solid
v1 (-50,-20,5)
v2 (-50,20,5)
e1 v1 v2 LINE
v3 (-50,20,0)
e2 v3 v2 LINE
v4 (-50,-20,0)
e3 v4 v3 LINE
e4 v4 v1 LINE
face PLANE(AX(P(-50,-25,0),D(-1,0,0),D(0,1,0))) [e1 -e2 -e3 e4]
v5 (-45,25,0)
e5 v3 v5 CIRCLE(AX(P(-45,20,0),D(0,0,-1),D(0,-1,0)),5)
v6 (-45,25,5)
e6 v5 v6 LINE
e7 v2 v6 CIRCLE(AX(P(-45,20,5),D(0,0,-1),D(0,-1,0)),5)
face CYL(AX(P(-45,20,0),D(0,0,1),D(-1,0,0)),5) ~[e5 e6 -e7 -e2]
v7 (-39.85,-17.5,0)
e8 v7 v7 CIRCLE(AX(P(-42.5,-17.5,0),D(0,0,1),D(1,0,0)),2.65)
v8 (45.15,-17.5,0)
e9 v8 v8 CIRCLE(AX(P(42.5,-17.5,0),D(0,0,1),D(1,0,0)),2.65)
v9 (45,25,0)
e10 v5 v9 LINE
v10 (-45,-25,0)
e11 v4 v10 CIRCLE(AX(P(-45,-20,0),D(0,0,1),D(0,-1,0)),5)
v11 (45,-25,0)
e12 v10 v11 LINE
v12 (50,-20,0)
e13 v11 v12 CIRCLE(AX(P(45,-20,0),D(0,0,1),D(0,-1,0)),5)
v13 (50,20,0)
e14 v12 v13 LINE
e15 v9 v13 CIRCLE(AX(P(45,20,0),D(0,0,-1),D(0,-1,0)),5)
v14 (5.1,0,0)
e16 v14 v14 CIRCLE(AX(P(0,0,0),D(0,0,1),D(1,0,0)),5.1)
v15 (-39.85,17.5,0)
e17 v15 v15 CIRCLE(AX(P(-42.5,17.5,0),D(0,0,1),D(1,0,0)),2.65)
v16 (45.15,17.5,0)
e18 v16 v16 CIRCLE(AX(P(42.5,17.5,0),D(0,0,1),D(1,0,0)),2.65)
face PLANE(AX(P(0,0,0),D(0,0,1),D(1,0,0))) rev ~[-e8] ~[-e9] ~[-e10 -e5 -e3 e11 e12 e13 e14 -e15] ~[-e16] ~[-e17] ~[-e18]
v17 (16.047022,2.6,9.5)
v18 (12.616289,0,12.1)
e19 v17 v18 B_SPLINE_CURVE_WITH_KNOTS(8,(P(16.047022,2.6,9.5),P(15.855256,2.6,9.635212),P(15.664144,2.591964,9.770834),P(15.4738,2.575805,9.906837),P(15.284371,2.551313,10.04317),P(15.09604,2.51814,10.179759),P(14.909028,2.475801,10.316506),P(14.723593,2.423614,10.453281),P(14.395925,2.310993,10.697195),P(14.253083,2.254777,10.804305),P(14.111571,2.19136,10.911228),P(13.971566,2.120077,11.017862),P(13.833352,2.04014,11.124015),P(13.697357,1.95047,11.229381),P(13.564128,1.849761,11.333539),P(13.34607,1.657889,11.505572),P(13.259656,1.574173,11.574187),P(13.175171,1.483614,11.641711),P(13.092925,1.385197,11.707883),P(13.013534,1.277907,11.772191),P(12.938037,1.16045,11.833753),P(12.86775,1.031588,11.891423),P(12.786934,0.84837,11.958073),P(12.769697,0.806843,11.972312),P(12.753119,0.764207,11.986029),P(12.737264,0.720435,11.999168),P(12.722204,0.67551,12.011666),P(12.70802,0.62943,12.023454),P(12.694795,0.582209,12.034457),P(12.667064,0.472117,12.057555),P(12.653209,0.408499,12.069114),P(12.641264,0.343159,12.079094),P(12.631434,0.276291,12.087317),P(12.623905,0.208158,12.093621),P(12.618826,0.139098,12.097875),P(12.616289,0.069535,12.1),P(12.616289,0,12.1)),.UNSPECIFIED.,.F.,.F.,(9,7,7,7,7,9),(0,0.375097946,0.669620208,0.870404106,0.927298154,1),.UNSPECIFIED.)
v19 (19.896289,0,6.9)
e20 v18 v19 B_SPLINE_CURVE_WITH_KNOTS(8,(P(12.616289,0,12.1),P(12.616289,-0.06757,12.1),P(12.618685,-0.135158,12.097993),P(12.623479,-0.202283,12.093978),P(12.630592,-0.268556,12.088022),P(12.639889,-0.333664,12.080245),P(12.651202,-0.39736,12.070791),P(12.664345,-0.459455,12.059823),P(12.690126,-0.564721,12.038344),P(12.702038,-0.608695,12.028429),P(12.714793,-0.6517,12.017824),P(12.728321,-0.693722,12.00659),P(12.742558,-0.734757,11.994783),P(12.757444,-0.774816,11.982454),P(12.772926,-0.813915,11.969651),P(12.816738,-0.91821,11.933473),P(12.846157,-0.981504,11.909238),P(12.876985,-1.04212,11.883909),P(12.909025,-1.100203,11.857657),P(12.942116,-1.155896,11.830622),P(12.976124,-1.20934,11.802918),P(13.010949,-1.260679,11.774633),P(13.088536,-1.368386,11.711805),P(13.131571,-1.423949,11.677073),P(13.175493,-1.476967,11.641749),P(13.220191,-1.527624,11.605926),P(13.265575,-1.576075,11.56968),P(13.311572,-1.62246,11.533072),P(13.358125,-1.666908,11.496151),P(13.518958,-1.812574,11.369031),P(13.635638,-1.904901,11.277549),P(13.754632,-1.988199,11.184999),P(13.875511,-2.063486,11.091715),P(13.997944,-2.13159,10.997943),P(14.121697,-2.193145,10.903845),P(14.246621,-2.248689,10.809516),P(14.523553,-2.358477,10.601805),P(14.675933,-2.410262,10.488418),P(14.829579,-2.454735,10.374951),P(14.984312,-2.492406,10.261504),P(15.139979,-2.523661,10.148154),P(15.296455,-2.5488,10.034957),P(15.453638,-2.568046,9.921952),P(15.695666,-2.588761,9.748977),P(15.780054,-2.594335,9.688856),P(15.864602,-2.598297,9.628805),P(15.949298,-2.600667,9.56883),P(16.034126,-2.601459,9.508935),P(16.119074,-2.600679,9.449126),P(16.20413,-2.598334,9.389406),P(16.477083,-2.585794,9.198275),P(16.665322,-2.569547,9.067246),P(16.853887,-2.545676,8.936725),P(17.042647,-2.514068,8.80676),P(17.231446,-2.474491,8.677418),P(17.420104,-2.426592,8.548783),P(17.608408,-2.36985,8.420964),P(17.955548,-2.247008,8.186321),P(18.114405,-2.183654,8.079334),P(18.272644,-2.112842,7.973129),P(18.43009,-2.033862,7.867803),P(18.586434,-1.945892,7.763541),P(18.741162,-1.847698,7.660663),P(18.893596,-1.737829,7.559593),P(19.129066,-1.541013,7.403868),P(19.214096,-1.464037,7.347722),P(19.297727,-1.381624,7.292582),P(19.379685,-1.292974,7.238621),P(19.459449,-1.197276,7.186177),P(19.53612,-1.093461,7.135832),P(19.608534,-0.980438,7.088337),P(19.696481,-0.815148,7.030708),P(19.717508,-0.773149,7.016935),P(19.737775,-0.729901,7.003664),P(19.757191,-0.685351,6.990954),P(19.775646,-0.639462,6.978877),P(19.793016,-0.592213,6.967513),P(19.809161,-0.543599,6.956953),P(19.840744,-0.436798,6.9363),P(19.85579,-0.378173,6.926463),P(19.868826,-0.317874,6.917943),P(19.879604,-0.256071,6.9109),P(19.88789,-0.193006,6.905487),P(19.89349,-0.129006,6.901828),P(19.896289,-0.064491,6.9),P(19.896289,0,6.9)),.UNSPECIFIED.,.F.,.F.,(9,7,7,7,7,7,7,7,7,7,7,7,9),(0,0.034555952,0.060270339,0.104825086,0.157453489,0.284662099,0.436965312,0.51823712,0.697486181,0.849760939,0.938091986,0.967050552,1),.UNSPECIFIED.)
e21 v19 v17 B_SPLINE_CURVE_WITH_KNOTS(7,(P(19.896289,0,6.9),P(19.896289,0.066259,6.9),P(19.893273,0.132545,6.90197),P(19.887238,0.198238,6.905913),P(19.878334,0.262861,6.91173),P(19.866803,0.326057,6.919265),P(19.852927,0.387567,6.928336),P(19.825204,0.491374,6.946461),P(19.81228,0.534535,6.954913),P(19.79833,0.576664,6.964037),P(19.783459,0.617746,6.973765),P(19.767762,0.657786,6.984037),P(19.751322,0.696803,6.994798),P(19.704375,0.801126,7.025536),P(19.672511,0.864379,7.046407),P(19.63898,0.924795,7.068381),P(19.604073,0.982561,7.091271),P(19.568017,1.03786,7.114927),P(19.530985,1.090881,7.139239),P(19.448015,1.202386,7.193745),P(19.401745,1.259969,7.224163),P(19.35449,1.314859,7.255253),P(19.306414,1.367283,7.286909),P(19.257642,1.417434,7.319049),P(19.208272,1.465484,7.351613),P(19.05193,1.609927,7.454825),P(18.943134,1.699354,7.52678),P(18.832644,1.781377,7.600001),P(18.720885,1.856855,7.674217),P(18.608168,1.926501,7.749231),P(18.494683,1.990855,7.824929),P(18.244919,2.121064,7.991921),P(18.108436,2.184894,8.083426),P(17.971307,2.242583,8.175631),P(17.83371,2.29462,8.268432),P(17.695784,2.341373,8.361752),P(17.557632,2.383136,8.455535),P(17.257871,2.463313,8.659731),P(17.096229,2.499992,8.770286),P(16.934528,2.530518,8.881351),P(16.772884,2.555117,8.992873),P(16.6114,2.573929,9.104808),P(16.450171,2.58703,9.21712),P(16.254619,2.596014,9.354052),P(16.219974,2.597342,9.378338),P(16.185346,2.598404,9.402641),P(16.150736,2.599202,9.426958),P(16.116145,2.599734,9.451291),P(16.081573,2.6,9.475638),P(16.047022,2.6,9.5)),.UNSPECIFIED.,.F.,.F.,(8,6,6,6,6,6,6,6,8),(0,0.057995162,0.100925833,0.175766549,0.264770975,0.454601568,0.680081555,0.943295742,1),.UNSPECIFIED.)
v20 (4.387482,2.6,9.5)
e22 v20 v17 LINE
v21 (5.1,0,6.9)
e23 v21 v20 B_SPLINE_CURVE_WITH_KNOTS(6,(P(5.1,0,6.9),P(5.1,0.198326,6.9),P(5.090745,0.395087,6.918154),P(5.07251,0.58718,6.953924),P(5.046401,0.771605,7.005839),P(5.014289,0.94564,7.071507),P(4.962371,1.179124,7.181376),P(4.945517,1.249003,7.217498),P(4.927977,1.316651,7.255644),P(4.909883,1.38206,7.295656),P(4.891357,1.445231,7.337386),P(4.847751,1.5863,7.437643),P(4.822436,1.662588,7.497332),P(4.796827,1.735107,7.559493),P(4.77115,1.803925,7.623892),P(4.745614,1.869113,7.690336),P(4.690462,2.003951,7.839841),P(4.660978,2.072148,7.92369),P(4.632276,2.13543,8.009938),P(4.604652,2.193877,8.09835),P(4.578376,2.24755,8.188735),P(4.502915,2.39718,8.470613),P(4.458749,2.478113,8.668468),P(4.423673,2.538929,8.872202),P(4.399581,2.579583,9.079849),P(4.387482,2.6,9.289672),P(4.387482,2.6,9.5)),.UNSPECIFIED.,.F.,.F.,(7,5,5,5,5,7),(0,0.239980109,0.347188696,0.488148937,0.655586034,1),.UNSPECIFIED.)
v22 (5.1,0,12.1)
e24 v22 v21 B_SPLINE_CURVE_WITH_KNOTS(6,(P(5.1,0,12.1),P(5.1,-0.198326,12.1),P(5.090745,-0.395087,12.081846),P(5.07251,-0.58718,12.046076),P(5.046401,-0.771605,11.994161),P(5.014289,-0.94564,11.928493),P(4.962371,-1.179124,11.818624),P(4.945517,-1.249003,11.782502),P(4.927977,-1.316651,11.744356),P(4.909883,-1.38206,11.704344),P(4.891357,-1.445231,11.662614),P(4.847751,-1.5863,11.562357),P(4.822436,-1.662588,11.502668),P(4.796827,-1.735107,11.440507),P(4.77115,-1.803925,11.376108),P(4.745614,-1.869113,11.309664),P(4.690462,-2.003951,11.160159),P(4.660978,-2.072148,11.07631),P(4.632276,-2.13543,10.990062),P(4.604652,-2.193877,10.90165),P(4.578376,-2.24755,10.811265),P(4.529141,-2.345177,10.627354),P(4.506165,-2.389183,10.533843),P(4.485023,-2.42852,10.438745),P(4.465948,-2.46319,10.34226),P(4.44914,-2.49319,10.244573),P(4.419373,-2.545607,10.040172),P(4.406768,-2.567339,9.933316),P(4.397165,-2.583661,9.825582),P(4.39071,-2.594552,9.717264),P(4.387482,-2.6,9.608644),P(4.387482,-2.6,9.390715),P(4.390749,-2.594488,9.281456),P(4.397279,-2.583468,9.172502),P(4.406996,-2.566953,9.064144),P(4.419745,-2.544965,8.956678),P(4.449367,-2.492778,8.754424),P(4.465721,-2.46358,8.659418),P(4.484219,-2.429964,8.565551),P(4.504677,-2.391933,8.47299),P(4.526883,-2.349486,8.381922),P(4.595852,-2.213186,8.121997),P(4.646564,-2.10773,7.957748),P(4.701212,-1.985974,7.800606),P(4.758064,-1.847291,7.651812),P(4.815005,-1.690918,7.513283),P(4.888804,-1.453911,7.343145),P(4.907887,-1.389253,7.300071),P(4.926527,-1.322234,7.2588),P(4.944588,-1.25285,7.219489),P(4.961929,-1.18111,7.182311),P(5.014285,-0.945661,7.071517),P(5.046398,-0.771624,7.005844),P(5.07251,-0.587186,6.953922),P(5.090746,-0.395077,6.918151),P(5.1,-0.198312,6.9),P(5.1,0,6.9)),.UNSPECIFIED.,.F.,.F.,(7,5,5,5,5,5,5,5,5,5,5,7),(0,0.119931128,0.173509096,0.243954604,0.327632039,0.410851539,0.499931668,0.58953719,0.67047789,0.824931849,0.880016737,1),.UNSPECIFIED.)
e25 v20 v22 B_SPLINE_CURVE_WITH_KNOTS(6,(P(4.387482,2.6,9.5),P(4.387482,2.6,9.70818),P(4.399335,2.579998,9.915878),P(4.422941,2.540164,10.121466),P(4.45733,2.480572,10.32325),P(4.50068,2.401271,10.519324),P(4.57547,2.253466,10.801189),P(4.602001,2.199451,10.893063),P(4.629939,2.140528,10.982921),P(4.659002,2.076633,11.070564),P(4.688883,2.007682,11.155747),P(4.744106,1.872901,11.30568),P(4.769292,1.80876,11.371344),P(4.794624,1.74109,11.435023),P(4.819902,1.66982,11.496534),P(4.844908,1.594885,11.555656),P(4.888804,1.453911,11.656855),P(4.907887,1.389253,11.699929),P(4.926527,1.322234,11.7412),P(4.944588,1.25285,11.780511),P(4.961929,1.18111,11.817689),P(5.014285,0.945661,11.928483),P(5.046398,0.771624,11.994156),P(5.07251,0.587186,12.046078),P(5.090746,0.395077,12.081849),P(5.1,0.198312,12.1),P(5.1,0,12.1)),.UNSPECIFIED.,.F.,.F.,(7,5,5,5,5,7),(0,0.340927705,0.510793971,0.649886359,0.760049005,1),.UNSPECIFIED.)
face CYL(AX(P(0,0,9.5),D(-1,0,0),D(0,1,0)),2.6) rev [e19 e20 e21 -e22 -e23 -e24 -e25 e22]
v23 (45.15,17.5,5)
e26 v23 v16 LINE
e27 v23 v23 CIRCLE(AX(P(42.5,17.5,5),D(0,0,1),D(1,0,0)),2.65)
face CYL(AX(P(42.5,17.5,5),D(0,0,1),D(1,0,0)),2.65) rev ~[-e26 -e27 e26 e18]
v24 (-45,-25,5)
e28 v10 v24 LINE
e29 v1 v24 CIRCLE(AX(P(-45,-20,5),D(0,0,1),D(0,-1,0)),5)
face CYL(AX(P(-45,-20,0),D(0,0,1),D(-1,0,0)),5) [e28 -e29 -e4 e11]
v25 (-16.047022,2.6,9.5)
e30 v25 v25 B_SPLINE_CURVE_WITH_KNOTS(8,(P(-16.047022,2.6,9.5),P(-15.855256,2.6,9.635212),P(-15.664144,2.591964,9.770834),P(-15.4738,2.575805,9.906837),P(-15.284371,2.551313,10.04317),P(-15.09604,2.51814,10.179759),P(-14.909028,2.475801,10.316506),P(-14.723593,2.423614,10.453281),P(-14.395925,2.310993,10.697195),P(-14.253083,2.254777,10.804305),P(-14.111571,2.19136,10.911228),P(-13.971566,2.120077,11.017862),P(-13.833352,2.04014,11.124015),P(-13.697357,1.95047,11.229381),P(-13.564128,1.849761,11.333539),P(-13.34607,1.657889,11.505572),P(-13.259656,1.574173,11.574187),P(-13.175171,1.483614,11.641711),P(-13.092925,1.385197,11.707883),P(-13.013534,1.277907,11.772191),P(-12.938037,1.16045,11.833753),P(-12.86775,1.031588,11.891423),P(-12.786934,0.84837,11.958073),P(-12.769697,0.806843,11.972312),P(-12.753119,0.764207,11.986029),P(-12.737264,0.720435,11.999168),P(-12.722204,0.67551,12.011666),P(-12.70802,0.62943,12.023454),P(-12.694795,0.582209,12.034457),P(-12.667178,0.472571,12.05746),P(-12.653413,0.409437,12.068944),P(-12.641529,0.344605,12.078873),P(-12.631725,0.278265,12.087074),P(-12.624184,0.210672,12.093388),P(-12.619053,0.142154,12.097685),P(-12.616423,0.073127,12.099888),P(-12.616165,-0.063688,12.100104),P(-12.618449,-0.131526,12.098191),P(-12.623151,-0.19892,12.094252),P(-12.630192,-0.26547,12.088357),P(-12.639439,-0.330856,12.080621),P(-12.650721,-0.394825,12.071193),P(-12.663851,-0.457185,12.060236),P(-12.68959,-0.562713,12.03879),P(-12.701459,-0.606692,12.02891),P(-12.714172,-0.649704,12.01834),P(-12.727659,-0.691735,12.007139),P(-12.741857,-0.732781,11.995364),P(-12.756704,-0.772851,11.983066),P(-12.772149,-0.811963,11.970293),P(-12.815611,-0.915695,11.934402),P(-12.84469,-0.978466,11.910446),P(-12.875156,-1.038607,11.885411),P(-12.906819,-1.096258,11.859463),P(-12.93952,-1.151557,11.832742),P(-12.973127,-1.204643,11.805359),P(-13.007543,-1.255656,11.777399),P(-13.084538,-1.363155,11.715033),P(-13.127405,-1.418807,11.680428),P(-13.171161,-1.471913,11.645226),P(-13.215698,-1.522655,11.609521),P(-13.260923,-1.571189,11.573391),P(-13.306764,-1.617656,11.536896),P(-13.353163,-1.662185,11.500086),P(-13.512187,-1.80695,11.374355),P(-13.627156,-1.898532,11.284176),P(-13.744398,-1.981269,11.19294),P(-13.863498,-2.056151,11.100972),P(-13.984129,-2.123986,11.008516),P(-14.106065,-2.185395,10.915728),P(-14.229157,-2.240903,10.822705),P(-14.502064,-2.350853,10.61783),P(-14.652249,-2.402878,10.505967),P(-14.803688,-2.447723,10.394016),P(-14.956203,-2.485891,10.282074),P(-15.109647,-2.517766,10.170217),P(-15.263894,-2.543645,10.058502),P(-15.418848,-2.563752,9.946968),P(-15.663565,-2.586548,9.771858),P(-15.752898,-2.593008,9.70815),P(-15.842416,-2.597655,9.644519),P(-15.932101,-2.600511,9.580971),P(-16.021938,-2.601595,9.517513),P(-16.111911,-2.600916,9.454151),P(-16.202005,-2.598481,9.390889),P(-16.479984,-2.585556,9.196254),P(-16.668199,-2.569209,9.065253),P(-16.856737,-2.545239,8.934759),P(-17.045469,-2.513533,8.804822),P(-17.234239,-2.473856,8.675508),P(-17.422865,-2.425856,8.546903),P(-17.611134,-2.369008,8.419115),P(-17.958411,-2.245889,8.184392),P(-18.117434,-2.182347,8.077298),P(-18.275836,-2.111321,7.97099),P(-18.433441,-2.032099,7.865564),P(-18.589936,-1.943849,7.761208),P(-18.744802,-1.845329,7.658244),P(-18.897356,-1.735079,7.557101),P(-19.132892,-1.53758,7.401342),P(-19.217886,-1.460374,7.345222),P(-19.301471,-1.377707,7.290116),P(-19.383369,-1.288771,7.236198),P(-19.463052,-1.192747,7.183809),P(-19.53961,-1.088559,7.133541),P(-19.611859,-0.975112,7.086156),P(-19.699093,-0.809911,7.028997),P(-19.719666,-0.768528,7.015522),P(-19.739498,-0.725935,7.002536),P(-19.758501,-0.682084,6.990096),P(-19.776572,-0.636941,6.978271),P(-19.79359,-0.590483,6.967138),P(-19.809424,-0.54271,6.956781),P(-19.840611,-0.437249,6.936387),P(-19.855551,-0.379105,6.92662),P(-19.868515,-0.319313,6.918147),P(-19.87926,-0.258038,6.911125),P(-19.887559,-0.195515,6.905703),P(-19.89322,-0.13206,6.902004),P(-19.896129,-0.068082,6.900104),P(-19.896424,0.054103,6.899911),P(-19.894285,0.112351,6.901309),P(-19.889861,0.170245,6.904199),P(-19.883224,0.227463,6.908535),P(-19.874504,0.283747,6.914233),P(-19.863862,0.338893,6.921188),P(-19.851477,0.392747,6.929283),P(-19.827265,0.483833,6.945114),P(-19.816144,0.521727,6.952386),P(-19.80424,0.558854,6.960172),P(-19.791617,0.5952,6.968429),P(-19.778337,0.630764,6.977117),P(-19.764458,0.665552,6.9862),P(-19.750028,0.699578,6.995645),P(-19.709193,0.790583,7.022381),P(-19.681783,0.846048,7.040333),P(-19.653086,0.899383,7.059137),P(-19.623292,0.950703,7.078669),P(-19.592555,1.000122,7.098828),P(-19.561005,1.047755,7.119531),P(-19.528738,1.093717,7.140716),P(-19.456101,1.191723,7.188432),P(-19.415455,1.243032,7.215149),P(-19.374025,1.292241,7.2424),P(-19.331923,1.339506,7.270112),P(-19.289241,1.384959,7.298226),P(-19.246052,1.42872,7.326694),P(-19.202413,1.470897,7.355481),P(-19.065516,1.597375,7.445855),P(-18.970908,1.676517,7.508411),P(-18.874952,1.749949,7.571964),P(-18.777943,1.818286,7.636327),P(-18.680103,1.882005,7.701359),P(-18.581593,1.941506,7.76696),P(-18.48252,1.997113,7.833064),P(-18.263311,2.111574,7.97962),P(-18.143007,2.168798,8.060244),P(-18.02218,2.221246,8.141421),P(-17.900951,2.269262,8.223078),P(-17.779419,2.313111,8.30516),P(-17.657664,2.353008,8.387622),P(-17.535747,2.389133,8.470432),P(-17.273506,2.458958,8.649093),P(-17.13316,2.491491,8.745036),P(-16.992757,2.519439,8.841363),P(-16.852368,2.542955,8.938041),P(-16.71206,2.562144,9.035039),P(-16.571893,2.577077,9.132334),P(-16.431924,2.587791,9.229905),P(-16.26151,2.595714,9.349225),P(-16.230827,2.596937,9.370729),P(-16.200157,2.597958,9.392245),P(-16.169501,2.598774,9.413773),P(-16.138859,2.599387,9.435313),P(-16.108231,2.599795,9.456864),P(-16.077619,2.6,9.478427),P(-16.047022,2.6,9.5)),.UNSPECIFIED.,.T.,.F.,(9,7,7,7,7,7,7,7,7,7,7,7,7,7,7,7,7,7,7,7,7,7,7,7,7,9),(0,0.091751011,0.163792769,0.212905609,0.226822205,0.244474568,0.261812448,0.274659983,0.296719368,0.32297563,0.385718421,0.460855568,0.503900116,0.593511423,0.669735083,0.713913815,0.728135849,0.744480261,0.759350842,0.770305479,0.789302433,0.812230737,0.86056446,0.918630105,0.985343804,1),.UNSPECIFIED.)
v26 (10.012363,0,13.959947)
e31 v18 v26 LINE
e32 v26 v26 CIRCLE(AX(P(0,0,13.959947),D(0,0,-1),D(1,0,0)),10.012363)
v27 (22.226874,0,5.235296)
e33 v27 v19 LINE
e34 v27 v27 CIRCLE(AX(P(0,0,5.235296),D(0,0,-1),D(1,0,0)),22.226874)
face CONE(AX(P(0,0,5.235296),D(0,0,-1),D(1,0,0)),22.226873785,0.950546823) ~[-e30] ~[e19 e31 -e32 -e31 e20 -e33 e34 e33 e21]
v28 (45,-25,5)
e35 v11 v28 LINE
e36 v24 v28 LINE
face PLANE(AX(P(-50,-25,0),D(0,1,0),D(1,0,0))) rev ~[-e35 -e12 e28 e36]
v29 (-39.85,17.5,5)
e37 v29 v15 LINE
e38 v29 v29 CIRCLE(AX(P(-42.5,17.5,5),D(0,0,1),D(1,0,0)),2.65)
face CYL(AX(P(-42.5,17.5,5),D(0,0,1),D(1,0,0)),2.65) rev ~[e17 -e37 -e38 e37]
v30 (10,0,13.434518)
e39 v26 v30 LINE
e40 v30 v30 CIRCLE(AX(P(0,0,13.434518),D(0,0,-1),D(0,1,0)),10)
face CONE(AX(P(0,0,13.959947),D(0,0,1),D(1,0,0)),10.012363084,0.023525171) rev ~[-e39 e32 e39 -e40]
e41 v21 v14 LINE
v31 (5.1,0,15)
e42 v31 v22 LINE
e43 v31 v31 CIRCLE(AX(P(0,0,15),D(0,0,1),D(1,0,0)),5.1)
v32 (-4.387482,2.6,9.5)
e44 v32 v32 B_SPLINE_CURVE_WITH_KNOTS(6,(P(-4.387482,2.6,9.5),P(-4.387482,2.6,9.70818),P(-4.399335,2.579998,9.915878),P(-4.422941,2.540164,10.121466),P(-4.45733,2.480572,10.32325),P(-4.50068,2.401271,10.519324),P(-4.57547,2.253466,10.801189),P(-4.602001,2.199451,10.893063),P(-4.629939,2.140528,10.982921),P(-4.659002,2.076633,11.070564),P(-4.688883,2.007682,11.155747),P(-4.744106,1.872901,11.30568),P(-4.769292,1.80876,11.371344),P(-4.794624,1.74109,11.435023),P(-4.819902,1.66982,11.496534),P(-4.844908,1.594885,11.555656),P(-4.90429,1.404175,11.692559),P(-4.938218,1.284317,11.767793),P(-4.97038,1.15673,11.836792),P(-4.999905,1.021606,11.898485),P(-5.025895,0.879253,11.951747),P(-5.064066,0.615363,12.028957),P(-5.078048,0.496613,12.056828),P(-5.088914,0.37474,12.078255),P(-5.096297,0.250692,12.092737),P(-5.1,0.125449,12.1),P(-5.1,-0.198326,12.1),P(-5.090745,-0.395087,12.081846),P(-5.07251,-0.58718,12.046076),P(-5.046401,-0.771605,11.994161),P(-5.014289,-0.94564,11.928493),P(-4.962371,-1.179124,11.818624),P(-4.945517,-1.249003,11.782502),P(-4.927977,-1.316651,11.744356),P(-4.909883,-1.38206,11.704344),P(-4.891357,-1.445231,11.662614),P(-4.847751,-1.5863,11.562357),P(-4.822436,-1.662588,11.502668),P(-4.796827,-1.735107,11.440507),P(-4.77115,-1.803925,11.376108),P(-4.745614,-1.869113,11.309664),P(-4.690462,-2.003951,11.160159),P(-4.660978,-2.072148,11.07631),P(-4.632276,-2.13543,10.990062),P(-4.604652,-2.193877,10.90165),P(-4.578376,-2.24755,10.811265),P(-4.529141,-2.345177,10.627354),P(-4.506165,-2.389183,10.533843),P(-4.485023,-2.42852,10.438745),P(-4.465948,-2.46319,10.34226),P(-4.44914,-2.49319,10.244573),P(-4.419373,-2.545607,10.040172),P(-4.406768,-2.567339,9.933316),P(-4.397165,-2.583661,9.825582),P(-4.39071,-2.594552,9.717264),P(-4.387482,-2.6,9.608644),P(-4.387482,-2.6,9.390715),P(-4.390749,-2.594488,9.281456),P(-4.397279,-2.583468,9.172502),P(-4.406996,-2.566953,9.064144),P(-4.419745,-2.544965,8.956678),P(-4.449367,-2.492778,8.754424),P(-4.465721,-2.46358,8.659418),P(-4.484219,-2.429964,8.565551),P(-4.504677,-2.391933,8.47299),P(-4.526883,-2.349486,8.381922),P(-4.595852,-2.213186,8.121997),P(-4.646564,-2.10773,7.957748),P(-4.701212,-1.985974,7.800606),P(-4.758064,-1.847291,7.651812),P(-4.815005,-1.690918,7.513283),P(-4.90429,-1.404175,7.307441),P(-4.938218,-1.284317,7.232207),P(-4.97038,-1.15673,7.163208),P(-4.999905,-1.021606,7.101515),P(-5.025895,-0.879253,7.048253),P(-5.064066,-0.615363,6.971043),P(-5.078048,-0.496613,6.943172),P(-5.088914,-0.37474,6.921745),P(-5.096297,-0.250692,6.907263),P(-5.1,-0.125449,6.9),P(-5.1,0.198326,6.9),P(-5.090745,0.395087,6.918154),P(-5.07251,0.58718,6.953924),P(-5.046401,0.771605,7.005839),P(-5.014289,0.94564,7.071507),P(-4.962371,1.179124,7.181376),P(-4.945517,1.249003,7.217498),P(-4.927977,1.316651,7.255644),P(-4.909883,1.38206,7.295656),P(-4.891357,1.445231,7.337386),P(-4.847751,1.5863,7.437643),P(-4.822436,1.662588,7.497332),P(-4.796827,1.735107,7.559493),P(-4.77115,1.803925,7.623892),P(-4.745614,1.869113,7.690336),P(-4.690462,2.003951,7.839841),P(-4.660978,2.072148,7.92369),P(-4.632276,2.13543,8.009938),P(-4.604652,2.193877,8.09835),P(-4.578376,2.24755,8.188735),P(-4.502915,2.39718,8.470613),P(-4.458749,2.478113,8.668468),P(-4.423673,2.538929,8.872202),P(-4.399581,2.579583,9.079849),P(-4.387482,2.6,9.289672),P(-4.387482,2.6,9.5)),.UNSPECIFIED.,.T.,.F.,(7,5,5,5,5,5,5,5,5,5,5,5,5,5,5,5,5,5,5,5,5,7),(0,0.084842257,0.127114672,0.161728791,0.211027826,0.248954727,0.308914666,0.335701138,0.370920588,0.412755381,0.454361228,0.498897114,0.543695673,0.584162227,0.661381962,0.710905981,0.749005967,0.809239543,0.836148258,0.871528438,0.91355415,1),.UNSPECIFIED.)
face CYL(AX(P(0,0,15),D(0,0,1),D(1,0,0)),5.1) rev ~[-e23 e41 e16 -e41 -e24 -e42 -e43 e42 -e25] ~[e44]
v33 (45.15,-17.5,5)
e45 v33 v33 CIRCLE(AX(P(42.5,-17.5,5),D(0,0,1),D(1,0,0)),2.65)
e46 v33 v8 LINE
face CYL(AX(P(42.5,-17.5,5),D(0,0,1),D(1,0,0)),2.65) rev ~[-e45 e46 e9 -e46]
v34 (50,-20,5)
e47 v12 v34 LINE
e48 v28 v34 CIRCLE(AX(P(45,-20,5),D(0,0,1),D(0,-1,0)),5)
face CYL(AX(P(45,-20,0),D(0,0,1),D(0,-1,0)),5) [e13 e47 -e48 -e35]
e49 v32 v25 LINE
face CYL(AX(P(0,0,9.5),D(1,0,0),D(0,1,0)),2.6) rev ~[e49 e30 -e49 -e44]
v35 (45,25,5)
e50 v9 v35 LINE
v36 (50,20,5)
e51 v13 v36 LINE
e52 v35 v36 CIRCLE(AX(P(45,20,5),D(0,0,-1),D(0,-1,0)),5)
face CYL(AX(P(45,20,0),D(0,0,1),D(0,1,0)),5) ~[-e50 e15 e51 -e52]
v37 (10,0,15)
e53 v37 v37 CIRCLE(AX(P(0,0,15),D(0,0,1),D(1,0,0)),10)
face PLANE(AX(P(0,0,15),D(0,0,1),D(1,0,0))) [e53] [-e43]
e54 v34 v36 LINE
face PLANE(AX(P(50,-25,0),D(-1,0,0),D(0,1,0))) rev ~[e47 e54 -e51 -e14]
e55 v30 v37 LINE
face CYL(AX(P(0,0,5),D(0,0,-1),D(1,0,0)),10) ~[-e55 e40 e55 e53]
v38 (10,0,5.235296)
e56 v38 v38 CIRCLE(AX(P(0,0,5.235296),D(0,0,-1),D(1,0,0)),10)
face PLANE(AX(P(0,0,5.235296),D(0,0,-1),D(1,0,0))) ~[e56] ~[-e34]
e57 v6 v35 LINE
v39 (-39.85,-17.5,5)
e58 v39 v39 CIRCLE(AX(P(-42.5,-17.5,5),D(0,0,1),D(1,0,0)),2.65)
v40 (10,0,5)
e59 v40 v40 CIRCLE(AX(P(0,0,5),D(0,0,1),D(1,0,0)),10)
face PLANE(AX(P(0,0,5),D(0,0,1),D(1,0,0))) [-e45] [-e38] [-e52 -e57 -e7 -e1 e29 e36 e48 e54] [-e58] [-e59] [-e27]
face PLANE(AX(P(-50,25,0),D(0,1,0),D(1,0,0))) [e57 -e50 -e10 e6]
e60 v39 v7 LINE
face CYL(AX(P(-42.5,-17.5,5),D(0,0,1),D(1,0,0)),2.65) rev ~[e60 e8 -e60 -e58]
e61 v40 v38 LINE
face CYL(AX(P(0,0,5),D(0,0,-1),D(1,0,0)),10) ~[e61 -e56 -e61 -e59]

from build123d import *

# Parameters (mm, degrees)
F0_W           = 100
F0_H           = 50
F1_DEPTH       = 5
F2_R           = 10
F3_DEPTH       = 10
F4_R           = 5.1
F5_DEPTH       = 25
F6_R           = 5
F7_R           = 2.65
F8_DEPTH       = 25
F11_R          = 2.6
F12_DEPTH      = 25
F12_DEPTH_BACK = 25


with BuildPart() as f1:
    # F0 (on Top) → F1 (new body)
    with BuildSketch(Plane.XY):
        Rectangle(F0_W, F0_H)
    extrude(amount=F1_DEPTH)

    # F2 (on face) → F3 (join)
    with BuildSketch(Plane.XY.offset(5)):
        Circle(F2_R)
    extrude(amount=F3_DEPTH)

    # F4 (on face) → F5 (cut)
    with BuildSketch(Plane.XY.offset(15)):
        Circle(F4_R)
    extrude(amount=-F5_DEPTH, mode=Mode.SUBTRACT)

    # F6
    f6_edges = [f1.edges().sort_by_distance(p)[0] for p in [
        (-50, -25, 2.5),
        (-50, 25, 2.5),
        (50, 25, 2.5),
        (50, -25, 2.5),
    ]]
    fillet(f6_edges, radius=F6_R)

    # F7 (on face) → F8 (cut)
    with BuildSketch(Plane.XY.offset(5)):
        with Locations((42.5, 17.5)):
            Circle(F7_R)
        with Locations((42.5, -17.5)):
            Circle(F7_R)
        with Locations((-42.5, -17.5)):
            Circle(F7_R)
        with Locations((-42.5, 17.5)):
            Circle(F7_R)
    extrude(amount=-F8_DEPTH, mode=Mode.SUBTRACT)

    # F9 (on Front) → F10 (revolve)
    with BuildSketch(Plane.XZ):
        Polygon((22.2268737853, 5.2352962084), (10.0123630837, 13.9599470422), (9.8070763052, 5.2352962084), align=None)
    revolve(axis=Axis((0, 0, 5), (0, 0, -1)))

    # F11 (on Right) → F12 (cut, two sides)
    with BuildSketch(Plane.YZ) as f12_sk:
        with Locations((0, 9.5)):
            Circle(F11_R)
    extrude(amount=-F12_DEPTH, mode=Mode.SUBTRACT)
    extrude(f12_sk.sketch, amount=F12_DEPTH_BACK, mode=Mode.SUBTRACT)


solid = f1.part
